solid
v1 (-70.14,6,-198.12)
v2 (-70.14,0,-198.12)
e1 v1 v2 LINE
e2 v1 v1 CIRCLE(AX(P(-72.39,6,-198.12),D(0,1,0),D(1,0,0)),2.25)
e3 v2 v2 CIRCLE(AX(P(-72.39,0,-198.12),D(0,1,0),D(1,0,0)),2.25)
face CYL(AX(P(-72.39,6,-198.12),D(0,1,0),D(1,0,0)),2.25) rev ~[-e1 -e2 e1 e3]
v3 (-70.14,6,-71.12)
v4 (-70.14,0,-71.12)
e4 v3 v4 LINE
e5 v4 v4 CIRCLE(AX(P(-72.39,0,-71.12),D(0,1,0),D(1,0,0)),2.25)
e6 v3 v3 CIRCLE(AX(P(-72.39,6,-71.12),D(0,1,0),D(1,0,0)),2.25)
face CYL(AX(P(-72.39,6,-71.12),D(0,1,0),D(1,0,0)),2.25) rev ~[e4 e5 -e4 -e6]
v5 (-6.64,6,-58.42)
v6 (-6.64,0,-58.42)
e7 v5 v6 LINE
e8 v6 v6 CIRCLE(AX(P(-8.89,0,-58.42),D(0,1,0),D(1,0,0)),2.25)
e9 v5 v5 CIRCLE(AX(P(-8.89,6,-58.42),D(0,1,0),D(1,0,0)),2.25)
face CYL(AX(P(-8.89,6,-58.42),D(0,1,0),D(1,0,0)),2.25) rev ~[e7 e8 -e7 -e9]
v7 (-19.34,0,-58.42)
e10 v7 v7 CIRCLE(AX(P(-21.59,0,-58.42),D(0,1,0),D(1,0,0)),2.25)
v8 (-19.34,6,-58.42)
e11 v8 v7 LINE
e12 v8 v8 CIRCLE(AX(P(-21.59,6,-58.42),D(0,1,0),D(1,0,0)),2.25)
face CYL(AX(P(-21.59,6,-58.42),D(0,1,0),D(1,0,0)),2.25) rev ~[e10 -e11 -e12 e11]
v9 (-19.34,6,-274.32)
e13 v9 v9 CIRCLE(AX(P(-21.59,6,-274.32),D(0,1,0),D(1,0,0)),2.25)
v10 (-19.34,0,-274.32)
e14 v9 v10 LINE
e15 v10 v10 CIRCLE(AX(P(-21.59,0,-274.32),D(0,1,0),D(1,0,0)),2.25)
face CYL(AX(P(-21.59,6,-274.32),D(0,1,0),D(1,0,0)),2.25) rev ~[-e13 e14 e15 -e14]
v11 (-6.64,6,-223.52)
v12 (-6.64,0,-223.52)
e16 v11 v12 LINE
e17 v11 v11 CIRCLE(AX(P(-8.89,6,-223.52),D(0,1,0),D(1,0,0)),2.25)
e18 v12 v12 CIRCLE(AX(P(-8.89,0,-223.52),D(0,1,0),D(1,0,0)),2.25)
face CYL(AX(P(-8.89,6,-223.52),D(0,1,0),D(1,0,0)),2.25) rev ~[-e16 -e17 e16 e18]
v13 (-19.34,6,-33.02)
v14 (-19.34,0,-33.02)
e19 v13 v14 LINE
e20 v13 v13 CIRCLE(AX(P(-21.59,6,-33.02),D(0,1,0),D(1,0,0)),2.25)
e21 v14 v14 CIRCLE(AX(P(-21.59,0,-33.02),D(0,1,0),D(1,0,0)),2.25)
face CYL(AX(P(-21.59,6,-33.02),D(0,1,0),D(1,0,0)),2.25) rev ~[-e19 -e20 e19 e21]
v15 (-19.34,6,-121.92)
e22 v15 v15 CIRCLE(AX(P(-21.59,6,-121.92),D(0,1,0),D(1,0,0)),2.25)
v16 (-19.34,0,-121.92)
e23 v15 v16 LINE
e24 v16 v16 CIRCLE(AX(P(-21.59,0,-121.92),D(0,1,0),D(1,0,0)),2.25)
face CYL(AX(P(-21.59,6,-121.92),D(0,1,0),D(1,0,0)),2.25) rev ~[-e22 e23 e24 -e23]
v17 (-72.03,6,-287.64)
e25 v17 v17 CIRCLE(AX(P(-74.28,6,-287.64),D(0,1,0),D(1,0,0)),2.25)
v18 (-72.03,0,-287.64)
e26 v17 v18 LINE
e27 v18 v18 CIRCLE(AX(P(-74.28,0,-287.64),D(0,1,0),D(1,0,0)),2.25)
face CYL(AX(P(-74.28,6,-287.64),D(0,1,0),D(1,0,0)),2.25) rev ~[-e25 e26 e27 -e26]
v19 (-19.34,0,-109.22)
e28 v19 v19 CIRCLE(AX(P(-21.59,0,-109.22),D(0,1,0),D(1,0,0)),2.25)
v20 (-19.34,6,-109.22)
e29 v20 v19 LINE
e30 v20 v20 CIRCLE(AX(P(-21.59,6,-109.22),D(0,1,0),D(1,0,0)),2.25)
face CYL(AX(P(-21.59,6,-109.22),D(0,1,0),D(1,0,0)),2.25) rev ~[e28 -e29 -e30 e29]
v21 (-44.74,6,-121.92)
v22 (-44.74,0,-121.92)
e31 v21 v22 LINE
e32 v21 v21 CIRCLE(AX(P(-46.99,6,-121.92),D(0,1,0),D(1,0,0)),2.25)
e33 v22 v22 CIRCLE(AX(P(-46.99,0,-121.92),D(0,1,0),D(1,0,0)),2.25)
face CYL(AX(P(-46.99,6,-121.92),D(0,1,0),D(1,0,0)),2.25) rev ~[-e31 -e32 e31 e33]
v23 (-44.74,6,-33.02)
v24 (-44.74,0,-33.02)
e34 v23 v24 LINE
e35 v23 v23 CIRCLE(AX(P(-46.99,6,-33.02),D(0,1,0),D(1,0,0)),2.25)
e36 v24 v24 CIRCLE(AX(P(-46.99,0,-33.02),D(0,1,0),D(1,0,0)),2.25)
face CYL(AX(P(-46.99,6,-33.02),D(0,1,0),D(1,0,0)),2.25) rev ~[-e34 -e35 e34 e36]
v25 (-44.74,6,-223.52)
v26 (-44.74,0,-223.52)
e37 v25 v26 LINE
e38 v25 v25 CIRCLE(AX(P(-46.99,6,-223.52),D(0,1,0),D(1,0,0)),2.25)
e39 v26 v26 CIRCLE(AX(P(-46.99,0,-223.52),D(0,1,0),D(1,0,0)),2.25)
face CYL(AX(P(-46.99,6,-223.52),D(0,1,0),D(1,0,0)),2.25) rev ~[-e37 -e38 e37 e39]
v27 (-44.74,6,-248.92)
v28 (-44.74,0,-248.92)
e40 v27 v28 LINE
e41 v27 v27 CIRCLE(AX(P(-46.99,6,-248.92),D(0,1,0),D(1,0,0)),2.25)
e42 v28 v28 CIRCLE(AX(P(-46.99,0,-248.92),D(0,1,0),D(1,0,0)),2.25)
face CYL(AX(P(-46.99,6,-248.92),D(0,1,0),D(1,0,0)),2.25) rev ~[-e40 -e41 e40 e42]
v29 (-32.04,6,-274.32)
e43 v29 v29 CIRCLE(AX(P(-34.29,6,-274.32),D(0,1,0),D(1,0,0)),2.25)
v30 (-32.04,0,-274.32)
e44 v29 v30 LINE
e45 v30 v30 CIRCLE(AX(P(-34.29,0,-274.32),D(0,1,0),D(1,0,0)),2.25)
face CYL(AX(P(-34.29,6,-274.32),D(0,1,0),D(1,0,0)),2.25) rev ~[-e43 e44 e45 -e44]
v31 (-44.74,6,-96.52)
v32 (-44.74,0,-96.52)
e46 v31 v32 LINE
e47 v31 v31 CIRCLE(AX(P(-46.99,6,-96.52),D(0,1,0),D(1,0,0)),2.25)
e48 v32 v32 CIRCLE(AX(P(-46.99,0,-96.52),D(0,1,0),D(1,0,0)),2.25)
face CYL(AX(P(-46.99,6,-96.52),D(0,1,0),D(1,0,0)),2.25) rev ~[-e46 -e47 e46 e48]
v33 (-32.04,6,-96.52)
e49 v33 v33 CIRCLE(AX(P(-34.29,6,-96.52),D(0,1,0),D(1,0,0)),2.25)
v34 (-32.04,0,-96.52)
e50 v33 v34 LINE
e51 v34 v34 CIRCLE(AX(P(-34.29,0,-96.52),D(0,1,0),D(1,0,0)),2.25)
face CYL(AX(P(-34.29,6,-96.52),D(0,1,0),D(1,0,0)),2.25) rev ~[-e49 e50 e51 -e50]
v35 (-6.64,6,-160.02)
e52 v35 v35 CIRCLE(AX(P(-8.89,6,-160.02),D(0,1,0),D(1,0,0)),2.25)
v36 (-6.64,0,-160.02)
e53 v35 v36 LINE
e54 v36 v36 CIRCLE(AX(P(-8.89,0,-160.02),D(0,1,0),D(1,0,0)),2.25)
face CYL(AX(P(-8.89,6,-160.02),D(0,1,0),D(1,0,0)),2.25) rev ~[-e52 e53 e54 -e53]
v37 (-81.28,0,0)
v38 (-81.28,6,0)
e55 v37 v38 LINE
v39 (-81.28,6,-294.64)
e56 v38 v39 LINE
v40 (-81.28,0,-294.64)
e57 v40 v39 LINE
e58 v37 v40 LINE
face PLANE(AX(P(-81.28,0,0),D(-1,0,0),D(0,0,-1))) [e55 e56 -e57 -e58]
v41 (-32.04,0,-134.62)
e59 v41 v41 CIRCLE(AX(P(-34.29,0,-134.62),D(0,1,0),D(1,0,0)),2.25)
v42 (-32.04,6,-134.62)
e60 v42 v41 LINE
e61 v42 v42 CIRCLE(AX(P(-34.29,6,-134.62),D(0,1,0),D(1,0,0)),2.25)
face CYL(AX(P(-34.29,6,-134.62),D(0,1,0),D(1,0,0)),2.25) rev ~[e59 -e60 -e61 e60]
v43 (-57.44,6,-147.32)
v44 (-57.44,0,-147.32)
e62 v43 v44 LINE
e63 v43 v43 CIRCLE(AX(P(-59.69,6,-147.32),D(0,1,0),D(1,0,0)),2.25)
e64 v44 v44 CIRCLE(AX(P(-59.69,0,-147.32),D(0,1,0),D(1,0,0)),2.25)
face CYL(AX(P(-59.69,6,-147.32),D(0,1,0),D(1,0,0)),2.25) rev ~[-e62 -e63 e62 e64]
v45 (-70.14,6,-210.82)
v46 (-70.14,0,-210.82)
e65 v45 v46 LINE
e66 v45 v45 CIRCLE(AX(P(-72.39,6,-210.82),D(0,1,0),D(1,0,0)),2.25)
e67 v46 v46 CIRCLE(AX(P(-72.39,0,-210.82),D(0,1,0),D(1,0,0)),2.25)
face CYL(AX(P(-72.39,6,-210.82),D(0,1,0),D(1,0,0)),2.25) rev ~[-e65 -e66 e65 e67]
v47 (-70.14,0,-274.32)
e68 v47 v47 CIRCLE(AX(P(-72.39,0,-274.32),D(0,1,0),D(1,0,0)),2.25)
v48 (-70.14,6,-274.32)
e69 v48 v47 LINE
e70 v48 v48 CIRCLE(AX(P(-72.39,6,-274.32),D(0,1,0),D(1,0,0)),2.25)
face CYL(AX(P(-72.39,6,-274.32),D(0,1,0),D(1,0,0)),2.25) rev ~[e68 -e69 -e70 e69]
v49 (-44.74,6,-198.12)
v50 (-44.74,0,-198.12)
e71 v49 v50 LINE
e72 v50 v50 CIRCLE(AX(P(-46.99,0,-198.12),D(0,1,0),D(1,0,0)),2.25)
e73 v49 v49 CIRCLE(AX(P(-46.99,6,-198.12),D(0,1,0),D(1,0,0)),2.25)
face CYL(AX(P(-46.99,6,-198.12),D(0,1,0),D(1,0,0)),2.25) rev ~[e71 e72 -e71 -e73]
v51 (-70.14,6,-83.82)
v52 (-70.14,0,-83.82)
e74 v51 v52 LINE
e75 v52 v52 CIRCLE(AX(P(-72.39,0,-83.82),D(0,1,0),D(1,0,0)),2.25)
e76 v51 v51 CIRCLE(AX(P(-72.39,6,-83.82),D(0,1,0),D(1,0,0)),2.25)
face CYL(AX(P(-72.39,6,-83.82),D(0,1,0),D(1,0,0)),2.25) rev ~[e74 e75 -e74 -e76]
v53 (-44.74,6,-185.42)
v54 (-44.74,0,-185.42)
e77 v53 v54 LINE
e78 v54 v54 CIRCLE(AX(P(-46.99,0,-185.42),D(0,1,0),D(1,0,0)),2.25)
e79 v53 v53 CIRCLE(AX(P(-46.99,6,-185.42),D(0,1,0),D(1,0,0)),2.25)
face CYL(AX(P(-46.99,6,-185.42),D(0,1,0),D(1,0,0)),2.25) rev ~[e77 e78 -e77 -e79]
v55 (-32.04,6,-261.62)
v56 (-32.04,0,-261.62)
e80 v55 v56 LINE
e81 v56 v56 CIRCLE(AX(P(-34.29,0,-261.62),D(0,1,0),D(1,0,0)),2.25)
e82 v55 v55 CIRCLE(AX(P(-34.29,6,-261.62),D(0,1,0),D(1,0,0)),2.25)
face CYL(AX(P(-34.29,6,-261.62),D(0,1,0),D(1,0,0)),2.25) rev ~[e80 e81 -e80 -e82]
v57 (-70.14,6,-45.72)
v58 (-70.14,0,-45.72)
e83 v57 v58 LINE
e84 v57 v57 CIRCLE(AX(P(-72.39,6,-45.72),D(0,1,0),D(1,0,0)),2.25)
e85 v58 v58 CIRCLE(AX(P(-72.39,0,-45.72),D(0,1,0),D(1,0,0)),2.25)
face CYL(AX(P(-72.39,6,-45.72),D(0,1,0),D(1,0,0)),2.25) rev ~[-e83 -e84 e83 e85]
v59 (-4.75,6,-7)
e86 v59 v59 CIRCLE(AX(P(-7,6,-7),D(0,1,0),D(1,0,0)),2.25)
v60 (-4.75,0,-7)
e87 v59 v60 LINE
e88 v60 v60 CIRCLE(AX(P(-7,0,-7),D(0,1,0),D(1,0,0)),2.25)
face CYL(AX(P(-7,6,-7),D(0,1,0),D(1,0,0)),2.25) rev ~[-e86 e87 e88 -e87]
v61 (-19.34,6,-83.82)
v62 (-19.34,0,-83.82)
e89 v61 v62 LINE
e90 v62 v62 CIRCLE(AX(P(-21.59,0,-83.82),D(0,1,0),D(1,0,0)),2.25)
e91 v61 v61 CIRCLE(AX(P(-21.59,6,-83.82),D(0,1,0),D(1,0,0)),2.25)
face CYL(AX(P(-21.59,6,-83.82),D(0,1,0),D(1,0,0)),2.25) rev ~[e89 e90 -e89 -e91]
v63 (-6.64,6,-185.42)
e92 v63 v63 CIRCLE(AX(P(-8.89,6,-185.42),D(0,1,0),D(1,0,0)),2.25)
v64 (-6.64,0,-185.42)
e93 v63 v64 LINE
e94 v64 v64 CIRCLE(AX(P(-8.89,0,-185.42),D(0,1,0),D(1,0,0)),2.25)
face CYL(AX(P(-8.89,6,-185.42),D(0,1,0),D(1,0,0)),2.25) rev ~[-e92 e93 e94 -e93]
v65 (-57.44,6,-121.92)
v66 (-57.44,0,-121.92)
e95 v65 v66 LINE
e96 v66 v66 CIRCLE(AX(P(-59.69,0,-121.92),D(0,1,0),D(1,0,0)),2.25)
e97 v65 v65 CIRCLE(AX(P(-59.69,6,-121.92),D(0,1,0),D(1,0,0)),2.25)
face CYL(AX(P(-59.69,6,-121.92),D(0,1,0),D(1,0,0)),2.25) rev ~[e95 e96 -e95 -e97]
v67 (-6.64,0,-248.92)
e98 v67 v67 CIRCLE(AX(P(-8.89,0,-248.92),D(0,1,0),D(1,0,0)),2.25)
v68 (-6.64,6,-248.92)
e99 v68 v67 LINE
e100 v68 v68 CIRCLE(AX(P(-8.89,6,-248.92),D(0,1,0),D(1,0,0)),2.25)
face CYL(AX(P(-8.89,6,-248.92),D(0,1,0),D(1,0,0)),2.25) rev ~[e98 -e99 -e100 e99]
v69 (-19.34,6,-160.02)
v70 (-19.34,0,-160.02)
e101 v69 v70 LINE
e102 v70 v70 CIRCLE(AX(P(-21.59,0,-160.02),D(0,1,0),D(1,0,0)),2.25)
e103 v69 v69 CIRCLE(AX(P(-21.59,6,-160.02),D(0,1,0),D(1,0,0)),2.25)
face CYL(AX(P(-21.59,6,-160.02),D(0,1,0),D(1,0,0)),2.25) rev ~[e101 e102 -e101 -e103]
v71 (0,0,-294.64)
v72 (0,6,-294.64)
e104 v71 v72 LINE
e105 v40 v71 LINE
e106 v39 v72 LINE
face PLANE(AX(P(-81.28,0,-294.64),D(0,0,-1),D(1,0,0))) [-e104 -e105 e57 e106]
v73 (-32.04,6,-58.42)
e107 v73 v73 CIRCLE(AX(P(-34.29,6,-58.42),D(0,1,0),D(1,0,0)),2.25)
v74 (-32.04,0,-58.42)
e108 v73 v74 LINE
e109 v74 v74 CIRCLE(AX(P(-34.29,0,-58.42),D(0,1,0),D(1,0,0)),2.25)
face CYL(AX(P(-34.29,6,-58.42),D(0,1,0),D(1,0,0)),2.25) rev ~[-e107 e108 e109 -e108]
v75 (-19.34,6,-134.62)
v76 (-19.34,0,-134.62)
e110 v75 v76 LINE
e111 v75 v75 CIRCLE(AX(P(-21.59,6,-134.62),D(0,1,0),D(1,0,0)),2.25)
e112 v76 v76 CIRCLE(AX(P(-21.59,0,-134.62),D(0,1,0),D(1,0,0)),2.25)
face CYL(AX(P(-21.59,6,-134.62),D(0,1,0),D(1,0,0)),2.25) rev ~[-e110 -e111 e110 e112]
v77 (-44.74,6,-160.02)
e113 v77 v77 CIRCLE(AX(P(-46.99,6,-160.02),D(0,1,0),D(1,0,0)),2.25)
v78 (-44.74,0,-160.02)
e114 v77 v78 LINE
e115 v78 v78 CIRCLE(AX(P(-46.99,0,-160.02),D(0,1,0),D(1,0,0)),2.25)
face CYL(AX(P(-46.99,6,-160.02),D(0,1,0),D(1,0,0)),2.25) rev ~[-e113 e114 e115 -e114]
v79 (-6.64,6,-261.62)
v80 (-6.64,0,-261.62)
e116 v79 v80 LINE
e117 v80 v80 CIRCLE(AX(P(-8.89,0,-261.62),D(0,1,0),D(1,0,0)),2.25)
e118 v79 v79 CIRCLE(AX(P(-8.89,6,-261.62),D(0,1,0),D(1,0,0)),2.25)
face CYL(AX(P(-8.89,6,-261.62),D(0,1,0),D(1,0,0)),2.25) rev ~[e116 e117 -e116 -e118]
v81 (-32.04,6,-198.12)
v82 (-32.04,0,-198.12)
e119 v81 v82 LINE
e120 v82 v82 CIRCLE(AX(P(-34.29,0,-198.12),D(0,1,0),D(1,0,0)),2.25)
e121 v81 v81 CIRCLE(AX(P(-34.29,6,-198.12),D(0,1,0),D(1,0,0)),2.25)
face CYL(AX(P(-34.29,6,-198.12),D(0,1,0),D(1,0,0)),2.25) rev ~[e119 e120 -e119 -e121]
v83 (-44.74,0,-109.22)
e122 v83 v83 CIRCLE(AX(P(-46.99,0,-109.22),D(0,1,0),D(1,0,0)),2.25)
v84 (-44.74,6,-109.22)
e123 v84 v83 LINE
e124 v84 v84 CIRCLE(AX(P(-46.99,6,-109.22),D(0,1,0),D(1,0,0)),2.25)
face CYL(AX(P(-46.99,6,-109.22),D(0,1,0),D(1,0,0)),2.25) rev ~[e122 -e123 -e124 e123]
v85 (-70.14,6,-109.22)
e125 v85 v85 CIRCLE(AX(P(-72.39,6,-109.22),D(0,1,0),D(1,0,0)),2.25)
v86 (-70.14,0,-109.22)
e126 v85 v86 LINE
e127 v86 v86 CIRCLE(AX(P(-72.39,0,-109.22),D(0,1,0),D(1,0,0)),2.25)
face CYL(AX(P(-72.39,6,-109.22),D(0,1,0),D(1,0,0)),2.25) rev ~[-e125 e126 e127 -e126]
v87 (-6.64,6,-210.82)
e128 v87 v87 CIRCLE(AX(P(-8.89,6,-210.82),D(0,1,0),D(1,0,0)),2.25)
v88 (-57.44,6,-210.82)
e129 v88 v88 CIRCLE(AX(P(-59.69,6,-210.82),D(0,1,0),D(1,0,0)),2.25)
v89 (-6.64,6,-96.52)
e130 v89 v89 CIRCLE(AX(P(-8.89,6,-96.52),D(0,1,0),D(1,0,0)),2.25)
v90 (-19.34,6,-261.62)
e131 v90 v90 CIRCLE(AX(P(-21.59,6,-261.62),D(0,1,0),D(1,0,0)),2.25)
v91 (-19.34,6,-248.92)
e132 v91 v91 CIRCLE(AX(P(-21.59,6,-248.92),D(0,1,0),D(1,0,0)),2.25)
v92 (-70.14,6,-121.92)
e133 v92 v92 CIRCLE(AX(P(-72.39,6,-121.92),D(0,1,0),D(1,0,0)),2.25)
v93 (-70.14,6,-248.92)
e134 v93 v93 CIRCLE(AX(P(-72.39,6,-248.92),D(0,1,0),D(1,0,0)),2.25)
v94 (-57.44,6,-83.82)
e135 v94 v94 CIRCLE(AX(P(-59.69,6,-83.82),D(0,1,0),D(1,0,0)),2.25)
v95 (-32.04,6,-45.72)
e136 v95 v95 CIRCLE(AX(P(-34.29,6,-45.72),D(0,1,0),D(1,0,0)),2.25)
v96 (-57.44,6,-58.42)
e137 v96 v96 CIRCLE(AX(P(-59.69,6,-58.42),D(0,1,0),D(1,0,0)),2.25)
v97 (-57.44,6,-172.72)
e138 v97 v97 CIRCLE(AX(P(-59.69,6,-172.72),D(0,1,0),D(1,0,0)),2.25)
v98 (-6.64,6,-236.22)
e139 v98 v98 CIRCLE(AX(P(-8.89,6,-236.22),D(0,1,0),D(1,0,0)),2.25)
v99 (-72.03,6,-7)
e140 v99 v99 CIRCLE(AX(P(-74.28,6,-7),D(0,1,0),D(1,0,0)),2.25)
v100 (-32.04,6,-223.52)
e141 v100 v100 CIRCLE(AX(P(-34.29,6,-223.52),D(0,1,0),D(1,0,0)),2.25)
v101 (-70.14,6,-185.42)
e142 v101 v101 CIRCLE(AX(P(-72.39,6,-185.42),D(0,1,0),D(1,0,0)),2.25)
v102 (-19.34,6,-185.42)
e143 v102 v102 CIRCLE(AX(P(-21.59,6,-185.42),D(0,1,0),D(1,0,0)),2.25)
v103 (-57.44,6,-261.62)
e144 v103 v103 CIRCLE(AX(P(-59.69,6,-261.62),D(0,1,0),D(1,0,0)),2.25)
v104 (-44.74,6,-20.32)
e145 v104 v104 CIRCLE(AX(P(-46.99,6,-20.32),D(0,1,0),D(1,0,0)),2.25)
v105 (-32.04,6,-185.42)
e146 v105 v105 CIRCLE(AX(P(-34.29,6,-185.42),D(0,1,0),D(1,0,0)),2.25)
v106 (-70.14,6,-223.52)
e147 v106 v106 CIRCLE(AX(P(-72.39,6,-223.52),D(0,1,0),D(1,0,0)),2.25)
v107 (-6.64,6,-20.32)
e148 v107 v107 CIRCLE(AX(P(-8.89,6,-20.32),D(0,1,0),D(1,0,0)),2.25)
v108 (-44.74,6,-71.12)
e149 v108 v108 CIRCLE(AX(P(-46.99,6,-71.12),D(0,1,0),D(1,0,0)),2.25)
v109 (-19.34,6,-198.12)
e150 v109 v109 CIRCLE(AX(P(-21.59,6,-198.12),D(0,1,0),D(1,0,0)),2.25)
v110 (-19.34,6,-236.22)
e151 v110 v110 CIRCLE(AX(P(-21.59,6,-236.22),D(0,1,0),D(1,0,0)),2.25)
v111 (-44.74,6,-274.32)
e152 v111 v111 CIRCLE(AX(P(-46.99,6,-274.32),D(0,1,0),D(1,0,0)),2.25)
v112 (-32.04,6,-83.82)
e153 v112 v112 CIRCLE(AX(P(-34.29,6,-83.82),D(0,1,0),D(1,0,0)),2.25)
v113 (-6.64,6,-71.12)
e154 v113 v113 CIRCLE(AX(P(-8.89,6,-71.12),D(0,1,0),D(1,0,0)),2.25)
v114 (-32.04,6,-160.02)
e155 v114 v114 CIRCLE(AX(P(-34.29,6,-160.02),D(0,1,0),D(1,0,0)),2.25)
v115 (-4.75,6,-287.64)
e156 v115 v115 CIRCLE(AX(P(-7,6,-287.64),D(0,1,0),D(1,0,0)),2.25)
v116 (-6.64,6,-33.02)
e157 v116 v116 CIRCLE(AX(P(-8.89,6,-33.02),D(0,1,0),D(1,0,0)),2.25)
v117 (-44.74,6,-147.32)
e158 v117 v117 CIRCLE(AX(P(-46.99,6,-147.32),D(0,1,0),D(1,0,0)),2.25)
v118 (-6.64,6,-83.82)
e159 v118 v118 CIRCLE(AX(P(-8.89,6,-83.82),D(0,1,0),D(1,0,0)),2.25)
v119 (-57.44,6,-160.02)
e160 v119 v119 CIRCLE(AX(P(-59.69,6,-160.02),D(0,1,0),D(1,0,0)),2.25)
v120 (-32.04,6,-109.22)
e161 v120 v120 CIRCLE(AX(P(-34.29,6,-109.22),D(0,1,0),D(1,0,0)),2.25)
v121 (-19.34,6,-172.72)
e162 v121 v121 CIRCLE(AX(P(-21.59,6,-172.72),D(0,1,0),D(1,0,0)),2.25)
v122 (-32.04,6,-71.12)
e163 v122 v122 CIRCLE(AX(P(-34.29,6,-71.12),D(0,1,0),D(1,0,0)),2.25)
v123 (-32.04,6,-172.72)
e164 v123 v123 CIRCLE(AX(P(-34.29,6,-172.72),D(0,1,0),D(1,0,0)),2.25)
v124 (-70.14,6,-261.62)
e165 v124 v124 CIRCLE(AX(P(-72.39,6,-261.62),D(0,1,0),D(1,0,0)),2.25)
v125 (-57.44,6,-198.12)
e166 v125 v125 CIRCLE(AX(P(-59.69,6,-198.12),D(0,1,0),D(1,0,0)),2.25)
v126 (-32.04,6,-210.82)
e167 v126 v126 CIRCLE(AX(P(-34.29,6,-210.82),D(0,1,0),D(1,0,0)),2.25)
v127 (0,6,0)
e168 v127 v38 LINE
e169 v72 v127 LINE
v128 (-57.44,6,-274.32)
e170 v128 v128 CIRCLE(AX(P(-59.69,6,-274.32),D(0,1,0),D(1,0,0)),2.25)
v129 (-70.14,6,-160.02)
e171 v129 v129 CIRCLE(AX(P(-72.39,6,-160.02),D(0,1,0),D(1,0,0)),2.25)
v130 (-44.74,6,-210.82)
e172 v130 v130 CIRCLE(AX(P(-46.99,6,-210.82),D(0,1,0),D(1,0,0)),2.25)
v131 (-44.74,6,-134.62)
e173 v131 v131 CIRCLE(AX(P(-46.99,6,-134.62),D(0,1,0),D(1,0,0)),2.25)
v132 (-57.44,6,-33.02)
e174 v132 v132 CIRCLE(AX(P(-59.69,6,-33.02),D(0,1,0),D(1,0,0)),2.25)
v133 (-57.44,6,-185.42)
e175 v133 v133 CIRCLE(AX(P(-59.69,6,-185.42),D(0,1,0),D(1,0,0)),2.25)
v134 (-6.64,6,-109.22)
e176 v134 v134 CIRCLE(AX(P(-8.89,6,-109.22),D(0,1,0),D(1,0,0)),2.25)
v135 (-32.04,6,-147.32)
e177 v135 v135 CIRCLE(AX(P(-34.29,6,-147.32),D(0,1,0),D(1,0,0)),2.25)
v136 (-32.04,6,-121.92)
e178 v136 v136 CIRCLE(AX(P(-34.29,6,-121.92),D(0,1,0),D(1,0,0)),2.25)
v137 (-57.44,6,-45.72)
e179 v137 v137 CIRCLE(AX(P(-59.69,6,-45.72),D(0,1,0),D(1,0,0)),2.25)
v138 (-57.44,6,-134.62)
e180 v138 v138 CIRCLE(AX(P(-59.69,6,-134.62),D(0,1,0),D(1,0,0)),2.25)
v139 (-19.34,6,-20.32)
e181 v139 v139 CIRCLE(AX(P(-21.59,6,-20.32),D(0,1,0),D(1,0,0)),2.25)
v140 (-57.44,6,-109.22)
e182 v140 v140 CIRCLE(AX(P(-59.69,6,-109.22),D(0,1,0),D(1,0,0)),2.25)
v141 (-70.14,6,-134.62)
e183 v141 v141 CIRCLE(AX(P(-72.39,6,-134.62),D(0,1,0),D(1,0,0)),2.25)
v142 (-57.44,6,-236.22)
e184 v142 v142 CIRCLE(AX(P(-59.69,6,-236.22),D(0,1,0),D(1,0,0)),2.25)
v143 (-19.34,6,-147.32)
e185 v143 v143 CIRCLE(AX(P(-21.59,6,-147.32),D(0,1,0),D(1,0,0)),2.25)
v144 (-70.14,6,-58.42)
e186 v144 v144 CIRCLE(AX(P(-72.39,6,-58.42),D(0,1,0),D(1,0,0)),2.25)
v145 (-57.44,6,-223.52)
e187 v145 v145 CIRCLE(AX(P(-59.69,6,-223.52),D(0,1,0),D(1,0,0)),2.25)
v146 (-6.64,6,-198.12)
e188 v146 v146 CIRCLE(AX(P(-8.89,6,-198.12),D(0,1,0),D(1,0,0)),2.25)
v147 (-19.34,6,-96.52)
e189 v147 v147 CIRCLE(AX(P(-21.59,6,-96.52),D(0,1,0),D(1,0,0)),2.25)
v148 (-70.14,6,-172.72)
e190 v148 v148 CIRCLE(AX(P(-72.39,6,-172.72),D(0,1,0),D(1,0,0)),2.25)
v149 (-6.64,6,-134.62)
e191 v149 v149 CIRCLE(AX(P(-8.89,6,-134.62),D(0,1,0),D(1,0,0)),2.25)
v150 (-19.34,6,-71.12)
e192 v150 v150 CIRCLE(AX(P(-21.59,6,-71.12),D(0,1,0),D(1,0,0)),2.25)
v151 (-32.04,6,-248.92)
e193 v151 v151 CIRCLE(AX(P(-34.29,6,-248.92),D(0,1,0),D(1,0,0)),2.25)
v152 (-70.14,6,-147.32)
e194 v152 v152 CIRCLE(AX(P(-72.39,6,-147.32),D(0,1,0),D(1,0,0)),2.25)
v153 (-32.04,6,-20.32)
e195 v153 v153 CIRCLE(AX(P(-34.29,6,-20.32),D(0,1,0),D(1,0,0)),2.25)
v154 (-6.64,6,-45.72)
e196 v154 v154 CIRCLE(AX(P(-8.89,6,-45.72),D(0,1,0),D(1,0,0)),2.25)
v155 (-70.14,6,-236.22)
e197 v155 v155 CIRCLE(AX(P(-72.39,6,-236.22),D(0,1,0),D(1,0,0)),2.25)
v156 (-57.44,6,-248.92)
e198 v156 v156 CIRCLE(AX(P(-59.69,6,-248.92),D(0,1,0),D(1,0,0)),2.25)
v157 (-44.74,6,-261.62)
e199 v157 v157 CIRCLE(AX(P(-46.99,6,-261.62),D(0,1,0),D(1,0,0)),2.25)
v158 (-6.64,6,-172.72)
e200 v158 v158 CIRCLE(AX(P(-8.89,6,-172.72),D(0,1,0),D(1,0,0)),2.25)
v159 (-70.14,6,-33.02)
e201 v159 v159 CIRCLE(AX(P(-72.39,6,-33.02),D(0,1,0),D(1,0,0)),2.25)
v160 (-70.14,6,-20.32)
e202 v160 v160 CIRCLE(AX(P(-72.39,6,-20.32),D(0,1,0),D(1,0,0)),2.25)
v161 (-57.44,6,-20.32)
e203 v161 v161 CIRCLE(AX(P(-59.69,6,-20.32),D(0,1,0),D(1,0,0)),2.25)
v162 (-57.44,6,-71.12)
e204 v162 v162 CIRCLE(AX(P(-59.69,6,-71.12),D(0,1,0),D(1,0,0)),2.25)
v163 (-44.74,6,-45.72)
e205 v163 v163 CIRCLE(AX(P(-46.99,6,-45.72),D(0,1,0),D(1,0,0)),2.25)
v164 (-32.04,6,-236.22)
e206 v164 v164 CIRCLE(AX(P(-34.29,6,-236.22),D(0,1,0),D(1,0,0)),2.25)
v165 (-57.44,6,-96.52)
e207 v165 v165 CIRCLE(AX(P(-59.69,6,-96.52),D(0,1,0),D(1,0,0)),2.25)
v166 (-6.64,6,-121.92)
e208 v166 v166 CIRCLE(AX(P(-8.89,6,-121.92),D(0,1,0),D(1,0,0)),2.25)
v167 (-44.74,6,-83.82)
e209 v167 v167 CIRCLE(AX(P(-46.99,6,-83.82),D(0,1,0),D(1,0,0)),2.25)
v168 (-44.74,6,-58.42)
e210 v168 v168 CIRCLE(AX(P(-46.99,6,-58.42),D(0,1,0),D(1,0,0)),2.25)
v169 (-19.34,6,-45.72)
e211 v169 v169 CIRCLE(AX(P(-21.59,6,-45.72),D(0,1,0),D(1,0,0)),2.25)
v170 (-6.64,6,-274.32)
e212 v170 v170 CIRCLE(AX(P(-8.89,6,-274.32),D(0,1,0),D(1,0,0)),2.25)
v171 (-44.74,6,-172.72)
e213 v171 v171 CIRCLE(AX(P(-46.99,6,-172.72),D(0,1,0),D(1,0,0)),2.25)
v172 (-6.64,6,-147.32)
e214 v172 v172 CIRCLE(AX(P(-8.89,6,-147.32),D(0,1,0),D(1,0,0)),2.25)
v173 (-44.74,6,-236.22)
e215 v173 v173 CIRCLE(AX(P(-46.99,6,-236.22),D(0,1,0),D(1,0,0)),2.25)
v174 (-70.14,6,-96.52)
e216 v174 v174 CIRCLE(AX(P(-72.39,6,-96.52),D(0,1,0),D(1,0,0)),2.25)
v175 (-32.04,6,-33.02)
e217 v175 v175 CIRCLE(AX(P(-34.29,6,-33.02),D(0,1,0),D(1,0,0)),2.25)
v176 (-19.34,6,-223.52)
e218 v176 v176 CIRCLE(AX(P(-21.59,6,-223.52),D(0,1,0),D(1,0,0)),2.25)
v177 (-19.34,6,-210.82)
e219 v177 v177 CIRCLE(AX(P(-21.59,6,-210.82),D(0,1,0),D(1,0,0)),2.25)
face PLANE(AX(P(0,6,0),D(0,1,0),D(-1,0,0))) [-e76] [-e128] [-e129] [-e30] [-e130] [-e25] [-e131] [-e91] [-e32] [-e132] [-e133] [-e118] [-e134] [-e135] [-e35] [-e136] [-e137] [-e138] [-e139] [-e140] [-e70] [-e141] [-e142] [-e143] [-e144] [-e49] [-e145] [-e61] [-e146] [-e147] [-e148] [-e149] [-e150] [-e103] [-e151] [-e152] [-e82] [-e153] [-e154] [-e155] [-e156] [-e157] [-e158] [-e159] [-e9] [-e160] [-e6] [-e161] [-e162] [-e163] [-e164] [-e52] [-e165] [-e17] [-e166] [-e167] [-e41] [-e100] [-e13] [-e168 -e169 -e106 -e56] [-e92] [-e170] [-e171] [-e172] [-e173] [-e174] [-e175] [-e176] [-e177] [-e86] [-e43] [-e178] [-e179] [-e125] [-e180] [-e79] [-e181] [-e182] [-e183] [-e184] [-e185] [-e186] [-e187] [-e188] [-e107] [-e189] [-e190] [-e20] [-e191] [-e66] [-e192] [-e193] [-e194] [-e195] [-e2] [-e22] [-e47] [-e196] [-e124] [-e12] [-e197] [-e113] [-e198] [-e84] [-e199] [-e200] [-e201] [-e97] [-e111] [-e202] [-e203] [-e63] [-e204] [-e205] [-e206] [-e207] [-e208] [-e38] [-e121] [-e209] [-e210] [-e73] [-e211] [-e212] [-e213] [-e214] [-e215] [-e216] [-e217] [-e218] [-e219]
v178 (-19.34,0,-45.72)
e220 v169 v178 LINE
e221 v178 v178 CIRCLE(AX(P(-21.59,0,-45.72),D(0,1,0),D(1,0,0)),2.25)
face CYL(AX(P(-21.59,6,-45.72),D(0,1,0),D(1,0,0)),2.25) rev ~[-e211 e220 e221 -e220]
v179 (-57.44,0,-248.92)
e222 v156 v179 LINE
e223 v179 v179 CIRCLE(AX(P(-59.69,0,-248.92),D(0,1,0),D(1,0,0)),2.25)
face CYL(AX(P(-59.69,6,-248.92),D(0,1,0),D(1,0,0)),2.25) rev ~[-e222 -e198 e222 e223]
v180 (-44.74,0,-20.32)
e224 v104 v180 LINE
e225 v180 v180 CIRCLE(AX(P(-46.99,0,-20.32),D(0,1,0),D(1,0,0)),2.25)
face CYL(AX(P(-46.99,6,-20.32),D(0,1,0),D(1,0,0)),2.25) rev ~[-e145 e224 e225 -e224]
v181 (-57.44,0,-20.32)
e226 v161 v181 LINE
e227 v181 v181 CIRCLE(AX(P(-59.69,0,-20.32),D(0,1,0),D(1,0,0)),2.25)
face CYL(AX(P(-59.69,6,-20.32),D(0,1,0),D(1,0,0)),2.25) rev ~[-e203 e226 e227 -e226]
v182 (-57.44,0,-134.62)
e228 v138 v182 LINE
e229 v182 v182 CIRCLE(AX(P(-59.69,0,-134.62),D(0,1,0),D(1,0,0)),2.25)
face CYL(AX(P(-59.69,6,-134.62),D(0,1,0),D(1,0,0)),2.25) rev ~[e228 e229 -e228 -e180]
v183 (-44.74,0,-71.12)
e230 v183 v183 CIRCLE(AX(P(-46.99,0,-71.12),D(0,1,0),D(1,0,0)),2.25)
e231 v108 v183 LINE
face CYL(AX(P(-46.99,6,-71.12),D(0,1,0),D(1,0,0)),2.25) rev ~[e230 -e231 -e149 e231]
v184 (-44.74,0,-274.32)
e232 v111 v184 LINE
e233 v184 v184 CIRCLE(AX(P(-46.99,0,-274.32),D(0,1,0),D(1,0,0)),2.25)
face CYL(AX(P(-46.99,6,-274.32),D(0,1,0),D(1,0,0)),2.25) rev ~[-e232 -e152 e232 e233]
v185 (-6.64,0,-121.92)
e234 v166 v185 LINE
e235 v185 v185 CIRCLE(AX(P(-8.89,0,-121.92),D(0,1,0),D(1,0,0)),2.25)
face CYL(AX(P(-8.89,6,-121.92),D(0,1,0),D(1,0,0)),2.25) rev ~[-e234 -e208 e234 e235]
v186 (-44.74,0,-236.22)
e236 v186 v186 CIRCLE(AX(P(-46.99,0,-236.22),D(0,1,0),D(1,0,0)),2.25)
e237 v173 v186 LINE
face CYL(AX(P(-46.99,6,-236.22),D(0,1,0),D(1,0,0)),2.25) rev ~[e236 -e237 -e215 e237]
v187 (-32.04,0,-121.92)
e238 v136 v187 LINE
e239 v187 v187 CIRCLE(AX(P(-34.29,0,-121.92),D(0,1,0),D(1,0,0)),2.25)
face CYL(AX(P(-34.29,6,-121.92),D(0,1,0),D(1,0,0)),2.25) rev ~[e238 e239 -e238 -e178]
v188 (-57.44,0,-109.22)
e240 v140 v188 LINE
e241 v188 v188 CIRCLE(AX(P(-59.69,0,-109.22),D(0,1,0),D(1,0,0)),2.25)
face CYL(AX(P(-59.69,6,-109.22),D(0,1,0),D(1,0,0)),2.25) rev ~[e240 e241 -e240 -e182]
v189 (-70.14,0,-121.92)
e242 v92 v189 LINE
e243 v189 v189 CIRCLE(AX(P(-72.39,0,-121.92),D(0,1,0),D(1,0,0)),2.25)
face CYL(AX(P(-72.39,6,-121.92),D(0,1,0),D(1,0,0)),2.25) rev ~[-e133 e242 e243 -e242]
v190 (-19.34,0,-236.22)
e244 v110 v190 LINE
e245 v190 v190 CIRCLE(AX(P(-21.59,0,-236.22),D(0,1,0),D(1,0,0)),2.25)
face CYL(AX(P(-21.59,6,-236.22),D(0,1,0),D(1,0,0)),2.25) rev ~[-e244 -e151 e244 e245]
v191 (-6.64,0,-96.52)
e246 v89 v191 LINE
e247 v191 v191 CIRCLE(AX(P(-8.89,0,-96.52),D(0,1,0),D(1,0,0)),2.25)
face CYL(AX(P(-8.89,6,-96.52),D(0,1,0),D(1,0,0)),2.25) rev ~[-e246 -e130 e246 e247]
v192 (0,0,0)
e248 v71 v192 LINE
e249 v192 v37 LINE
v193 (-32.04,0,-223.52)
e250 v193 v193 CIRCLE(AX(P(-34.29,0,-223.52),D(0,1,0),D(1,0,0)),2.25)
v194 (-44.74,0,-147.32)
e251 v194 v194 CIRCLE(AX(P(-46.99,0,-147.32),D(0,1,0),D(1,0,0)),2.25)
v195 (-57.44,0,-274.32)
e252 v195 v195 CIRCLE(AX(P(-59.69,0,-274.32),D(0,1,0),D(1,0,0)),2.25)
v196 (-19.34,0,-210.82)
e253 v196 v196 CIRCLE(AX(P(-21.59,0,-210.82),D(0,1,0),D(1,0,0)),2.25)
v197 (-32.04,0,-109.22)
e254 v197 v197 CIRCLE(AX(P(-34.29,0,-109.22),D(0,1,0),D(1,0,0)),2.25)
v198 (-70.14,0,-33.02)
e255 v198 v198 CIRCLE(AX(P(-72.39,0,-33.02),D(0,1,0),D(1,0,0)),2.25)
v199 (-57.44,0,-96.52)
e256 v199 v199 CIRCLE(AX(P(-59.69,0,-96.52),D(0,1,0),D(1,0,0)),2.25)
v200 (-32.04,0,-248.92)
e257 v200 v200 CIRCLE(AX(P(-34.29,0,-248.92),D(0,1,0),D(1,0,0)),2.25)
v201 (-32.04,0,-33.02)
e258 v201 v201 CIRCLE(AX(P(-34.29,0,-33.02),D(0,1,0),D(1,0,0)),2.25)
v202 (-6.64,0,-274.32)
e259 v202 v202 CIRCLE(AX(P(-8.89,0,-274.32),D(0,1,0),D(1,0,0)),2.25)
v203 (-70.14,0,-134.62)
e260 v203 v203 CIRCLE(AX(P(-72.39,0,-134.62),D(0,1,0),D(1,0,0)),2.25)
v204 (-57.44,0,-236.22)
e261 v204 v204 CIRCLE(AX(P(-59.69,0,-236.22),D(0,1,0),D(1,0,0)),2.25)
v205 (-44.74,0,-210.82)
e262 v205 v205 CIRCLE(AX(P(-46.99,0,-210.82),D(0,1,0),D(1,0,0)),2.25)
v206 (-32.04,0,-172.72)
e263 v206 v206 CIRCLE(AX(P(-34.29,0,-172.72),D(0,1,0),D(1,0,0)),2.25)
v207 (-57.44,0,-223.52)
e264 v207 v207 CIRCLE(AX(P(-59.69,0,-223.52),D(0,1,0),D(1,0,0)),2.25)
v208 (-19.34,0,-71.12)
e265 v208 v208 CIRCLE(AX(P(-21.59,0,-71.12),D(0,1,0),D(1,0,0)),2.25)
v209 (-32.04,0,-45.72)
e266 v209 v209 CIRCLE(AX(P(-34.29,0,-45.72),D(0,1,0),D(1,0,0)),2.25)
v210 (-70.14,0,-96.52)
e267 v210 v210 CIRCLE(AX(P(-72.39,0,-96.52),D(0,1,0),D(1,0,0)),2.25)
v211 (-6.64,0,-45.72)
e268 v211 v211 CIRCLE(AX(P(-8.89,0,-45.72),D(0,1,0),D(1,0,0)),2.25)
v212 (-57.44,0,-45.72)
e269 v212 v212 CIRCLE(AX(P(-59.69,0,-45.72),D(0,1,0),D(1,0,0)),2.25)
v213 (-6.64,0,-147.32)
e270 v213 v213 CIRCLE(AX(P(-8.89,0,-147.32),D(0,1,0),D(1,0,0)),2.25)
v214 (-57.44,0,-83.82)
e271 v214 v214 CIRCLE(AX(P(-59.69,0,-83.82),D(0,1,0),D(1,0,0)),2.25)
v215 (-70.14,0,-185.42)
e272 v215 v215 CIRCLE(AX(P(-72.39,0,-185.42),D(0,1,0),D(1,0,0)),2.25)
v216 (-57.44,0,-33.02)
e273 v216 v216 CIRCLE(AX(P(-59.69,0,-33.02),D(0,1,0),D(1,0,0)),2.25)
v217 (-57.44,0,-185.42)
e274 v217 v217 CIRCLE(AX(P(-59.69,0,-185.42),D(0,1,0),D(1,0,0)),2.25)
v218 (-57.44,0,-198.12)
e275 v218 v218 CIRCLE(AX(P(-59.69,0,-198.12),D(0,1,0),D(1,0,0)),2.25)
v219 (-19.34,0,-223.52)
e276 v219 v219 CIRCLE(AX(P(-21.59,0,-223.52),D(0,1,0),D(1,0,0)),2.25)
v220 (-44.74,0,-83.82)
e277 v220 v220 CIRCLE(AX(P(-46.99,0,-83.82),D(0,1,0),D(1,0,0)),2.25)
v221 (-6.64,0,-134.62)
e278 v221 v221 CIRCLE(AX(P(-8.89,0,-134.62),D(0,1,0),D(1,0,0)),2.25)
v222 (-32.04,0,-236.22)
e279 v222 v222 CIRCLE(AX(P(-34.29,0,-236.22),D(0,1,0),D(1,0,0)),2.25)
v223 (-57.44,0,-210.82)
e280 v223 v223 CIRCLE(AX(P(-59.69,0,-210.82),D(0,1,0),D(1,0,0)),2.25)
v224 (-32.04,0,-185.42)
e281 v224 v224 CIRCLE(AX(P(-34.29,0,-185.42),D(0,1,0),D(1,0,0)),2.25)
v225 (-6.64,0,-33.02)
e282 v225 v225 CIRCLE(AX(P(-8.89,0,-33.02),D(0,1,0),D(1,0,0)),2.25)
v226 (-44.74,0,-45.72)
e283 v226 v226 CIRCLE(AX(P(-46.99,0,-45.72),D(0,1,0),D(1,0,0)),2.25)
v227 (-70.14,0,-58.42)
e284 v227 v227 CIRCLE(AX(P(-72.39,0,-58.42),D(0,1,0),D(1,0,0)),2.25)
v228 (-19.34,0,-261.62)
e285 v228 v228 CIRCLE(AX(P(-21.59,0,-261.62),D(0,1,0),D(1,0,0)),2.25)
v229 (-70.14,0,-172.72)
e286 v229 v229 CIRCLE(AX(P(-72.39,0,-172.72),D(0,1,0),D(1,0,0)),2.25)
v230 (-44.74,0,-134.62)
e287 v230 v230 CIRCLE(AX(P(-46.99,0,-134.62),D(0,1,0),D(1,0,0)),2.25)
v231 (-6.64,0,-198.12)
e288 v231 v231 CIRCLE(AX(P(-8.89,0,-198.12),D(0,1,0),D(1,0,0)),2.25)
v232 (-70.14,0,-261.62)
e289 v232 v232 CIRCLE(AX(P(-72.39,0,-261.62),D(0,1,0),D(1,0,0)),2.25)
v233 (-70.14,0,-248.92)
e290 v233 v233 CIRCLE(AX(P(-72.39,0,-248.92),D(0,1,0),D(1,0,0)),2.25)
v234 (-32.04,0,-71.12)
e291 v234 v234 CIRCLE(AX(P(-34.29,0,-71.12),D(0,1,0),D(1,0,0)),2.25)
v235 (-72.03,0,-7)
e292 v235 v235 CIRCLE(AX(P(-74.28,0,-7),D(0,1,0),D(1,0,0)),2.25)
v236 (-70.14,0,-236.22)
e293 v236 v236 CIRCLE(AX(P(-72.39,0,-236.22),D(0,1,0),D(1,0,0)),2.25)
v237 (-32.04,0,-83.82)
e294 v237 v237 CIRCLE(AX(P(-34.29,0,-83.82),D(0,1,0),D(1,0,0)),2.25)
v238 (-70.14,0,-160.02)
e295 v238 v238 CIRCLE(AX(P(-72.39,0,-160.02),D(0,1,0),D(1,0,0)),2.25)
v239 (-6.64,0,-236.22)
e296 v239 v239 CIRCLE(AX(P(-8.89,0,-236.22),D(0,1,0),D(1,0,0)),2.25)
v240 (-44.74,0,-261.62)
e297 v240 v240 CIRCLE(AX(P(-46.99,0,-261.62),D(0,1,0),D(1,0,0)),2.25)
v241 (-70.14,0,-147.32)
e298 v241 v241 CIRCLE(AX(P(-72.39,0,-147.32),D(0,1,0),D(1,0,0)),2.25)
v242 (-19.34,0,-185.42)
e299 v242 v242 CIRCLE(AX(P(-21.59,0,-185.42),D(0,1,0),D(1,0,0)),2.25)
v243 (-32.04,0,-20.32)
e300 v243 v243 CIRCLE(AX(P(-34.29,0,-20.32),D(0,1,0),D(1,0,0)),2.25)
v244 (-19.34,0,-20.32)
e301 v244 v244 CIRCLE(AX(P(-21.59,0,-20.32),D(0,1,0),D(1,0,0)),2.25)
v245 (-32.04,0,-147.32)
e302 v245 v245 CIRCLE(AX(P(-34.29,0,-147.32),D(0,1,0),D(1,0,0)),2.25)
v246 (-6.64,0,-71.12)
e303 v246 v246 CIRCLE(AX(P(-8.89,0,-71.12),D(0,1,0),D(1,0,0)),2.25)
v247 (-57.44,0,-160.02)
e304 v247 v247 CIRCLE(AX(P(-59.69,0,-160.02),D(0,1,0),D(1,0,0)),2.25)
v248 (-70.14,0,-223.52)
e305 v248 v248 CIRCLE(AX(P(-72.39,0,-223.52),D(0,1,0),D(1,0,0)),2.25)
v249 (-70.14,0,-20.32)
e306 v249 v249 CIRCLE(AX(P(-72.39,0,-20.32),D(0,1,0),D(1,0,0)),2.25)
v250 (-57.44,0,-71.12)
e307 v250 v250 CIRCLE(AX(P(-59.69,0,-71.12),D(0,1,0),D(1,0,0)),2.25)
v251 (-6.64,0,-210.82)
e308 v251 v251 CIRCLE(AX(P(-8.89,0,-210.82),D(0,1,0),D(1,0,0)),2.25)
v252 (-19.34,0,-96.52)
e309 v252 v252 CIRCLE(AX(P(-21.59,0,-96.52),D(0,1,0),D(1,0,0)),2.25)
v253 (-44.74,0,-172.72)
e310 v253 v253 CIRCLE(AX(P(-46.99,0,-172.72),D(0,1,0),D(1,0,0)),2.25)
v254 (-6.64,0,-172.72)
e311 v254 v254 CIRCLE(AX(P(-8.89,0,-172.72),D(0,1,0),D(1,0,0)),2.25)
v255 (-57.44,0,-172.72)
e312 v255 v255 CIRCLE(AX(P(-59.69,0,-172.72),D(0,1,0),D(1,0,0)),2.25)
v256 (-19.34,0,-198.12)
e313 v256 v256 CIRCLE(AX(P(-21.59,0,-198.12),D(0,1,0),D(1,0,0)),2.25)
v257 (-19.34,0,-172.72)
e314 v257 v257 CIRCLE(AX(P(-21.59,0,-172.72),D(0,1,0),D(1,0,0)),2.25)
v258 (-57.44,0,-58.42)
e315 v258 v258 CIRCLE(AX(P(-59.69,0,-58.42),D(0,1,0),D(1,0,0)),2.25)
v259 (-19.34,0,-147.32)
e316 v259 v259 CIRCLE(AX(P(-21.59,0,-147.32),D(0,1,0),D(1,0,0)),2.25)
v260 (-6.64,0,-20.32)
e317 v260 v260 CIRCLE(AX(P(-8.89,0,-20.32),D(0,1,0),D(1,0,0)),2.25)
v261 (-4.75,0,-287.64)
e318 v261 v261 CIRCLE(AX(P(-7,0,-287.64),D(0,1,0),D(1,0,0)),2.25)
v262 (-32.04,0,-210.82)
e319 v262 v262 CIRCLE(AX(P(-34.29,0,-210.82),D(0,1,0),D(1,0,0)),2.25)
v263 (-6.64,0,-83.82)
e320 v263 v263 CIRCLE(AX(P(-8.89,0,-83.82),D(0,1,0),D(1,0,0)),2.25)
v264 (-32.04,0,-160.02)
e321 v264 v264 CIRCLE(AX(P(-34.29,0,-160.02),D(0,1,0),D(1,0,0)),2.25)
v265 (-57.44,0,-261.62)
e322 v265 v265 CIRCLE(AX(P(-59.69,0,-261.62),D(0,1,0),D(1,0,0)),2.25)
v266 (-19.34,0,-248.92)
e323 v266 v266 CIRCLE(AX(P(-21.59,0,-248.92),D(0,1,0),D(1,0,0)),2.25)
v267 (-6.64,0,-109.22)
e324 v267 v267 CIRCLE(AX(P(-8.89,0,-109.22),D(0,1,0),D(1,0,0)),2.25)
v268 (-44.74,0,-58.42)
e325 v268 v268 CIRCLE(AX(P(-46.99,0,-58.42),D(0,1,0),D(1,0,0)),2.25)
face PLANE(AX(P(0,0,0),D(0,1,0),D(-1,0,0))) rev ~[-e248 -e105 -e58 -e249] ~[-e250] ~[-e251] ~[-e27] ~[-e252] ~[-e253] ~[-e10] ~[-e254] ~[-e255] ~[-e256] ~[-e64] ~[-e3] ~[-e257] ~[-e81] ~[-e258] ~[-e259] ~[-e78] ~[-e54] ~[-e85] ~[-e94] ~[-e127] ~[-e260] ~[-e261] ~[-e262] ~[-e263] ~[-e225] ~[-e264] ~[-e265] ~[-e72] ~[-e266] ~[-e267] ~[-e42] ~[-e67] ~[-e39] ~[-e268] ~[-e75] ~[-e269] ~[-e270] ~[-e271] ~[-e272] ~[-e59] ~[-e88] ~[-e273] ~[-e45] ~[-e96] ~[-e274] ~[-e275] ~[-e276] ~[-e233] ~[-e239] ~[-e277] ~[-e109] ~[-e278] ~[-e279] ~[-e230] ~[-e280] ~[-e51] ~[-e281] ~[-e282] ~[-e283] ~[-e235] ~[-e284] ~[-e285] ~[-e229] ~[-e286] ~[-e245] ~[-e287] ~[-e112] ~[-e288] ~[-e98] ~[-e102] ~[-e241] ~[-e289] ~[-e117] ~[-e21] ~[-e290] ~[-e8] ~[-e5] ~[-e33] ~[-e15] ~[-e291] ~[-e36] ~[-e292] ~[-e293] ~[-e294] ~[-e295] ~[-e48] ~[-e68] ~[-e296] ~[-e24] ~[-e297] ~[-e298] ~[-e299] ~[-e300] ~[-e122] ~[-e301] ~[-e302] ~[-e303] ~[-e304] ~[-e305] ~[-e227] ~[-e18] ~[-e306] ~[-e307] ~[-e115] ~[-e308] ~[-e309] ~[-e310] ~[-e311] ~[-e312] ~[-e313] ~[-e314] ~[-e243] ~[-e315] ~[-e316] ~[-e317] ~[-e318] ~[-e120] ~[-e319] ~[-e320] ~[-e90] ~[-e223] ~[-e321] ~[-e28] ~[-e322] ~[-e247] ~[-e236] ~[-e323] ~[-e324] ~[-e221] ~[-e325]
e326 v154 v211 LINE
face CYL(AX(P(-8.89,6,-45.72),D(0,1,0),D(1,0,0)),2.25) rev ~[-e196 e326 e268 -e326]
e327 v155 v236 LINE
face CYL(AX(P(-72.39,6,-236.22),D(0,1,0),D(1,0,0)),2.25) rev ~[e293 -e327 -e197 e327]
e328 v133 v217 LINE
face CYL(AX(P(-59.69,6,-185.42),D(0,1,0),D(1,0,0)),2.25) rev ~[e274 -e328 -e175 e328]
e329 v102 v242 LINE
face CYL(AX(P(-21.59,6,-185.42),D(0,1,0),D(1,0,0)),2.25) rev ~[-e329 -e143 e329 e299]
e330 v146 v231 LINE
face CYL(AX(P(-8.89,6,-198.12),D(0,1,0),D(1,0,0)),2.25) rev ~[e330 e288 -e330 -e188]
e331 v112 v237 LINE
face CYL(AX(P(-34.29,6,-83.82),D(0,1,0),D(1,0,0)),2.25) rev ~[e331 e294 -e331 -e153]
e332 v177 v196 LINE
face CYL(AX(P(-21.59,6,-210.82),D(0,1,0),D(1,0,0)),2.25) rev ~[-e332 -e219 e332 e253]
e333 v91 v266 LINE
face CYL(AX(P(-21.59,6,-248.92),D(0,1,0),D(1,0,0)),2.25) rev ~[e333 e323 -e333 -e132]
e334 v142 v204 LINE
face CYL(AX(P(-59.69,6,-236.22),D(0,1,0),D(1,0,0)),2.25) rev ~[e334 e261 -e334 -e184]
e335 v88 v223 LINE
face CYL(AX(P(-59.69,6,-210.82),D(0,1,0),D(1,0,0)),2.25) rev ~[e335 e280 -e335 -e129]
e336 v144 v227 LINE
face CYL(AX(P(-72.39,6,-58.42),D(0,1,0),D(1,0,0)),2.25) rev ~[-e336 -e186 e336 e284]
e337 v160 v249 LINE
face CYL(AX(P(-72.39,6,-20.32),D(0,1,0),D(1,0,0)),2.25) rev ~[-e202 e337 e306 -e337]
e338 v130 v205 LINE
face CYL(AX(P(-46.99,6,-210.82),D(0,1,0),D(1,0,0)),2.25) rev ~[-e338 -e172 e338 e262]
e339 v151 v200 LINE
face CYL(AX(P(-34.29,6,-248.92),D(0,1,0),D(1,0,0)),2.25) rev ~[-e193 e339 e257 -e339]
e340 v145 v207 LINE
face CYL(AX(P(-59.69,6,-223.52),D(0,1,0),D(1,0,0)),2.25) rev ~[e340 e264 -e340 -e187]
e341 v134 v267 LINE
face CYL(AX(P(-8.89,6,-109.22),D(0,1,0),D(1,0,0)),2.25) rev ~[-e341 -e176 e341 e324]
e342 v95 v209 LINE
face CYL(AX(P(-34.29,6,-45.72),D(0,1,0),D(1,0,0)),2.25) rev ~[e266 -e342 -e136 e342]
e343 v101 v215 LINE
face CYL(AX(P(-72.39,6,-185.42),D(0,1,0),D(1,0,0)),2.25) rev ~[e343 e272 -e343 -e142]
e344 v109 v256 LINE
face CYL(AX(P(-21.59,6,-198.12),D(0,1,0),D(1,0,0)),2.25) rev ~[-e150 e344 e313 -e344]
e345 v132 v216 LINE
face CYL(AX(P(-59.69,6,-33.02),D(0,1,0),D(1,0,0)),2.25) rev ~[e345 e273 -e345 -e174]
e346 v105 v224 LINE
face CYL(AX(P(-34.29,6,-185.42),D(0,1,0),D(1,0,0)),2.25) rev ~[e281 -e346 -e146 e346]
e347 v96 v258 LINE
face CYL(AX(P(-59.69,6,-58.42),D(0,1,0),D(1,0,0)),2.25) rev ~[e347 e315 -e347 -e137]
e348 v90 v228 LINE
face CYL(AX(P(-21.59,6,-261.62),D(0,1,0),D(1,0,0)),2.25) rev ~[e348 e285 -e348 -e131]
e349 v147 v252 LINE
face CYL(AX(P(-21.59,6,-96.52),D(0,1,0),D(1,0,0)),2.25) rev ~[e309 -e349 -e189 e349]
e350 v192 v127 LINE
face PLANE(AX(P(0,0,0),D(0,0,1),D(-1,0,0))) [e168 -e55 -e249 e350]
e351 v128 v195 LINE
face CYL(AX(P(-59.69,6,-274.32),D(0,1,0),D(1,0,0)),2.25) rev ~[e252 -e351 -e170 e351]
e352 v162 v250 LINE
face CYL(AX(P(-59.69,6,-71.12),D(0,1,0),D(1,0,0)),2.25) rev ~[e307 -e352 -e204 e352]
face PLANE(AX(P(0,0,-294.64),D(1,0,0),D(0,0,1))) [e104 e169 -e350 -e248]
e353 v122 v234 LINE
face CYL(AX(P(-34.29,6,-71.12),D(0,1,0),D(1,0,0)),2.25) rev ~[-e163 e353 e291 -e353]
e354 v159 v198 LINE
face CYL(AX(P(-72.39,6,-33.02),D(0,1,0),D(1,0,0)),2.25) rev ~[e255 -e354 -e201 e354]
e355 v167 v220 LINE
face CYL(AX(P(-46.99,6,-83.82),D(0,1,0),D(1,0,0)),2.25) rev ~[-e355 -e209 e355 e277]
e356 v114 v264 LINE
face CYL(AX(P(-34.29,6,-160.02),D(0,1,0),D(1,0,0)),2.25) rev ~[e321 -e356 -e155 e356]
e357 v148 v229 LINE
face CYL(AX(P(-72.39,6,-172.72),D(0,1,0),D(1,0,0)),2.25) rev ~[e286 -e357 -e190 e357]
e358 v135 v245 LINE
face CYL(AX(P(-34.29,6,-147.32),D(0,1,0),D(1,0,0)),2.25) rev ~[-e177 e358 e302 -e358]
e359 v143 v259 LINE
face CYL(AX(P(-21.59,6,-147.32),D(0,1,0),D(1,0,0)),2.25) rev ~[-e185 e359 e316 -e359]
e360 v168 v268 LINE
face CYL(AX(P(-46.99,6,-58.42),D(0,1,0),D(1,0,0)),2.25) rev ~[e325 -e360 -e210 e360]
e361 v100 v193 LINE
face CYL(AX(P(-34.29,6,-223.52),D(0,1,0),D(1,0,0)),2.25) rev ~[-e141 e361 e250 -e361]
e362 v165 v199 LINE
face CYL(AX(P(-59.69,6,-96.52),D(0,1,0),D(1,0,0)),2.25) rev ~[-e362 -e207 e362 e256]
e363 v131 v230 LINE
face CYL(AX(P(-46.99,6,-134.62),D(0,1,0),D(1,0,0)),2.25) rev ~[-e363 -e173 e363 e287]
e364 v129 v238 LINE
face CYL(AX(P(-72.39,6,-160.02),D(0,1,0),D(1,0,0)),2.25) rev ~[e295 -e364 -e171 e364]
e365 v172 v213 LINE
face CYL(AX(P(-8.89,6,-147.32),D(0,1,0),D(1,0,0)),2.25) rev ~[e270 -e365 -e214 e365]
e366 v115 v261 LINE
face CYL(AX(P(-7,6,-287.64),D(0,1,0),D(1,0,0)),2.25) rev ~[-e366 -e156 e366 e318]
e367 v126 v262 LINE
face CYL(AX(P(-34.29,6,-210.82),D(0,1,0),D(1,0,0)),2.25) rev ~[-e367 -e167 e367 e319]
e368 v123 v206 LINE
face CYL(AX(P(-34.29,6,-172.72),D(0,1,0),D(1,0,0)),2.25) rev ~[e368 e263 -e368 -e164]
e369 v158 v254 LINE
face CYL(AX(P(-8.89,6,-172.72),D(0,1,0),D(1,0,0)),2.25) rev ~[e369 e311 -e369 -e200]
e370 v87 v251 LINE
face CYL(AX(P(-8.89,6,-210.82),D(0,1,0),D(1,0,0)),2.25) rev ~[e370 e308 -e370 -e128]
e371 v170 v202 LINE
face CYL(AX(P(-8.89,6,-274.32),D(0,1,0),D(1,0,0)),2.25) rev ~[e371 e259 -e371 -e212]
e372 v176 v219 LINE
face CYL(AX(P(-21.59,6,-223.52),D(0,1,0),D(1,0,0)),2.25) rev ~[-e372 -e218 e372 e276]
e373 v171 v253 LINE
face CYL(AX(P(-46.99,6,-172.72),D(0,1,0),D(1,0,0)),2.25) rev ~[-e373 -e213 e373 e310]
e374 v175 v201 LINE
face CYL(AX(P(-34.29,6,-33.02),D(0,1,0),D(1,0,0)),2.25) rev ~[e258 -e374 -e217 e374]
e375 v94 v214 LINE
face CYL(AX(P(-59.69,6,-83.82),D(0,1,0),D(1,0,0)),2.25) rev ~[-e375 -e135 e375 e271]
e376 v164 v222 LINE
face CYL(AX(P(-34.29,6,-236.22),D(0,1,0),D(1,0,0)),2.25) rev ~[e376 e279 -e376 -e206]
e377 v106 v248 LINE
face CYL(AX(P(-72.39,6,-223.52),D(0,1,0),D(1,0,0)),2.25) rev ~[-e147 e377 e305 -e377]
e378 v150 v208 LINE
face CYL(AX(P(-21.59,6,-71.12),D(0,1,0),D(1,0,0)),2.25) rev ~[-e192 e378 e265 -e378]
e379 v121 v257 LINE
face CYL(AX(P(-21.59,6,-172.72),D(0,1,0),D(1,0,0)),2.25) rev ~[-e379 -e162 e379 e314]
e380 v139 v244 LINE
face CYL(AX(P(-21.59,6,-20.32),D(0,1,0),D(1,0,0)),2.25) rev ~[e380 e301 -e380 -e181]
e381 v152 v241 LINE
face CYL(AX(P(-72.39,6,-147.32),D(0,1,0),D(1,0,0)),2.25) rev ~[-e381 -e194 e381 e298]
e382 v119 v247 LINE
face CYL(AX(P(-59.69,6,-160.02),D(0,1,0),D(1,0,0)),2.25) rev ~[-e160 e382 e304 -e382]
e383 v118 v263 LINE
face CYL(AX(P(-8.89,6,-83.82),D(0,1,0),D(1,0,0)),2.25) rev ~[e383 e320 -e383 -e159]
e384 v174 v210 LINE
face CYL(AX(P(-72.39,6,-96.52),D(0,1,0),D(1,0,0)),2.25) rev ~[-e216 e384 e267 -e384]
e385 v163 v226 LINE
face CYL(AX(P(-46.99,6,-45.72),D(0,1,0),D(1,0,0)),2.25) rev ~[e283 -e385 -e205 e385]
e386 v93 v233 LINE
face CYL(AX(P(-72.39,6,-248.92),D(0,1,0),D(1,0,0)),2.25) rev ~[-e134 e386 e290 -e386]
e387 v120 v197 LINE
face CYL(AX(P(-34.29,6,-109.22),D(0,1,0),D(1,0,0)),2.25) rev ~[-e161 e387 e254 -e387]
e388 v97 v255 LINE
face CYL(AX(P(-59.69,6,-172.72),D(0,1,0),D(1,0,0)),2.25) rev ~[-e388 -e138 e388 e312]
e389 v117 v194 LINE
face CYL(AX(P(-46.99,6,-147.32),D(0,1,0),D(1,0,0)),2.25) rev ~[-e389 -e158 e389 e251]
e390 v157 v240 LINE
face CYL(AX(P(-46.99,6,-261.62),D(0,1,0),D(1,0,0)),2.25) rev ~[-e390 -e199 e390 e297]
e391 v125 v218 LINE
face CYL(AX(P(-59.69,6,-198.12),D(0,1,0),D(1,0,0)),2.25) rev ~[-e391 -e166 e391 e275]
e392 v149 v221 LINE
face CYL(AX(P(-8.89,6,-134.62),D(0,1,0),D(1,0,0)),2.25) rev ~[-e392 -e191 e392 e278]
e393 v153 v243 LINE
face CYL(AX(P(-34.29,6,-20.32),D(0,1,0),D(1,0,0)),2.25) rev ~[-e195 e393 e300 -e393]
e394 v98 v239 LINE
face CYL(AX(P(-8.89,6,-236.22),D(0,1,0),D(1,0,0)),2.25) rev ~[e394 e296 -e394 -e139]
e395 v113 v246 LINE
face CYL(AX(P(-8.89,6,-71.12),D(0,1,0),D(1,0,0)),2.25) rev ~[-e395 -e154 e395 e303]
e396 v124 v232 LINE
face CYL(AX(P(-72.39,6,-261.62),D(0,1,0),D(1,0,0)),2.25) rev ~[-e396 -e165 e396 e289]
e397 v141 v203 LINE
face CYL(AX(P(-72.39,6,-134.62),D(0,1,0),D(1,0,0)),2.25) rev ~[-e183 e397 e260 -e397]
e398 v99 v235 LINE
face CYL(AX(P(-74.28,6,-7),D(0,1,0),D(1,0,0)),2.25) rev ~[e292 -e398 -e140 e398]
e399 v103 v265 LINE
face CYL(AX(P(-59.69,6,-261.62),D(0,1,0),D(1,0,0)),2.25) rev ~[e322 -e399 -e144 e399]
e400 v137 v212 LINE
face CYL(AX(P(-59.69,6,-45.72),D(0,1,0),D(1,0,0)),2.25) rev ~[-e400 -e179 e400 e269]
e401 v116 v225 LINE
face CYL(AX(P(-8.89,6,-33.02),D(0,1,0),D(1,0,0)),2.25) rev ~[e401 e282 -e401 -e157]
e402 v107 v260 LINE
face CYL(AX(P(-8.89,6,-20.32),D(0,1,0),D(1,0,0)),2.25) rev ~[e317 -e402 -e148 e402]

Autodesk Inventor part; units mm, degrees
ref_plane "YZ Plane" through (0, 0, 0) normal (1, 0, 0) x (0, 1, 0)
ref_plane "XZ Plane" through (0, 0, 0) normal (0, 1, 0) x (-1, 0, 0)
ref_plane "XY Plane" through (0, 0, 0) normal (0, 0, 1) x (1, 0, 0)
sketch "Sketch1" plane through (0, 0, 0) normal (0, 1, 0) x (-1, 0, 0)
  line L0 (0, 0) -> (81.28, 0)
  line L1 (81.28, 0) -> (81.28, -294.64)
  line L2 (81.28, -294.64) -> (0, -294.64)
  line L3 (0, -294.64) -> (0, 0)
  dimension "d0" = 81.28
  dimension "d1" = 294.64
extrude "Extrusion1" add sketch "Sketch1" along normal blind 6
sketch "Sketch2" plane through (0, 6, 0) normal (0, 1, 0) x (1, 0, 0)
  circle A0 centre (-7, 7) radius 2.25
  line L0 (-81.28, 0) -> (0, 0) projected
  line L1 (0, 0) -> (0, 294.64) projected
  circle A1 centre (-74.28, 7) radius 2.25
  line L2 (-81.28, 294.64) -> (-81.28, 0) projected
  circle A2 centre (-74.28, 287.64) radius 2.25
  line L3 (0, 294.64) -> (-81.28, 294.64) projected
  circle A3 centre (-7, 287.64) radius 2.25
  dimension "d4" = 4.5
  dimension "d6" = 7
  dimension "d7" = 7
  dimension "d8" = 4.5
  dimension "d9" = 7
  dimension "d10" = 7
  dimension "d11" = 4.5
  dimension "d12" = 7
  dimension "d13" = 7
  dimension "d14" = 4.5
  dimension "d15" = 7
  dimension "d16" = 7
extrude "Extrusion2" cut sketch "Sketch2" against normal through all contours A0 | A1 | A2 | A3
sketch "Sketch3" plane through (0, 6, 0) normal (0, 1, 0) x (1, 0, 0)
  circle A0 centre (-8.89, 20.32) radius 2.25
  line L0 (0, 0) -> (0, 294.64) projected
  circle A1 centre (-7, 7) radius 2.25 projected
  line L1 (-81.28, 0) -> (0, 0) projected
  line L2 (0, 0) -> (-4.445, 0)
  dimension "d19" = 4.5
  dimension "d20" = 8.89
  dimension "d64" = 20.32
extrude "Extrusion3" cut sketch "Sketch3" against normal through all contours A0
pattern_linear "Rectangular Pattern1" count 6 spacing 12.7 along (-1, 0, 0) count 21 spacing 12.7 along (0, 0, -1) of "Extrusion3"
properties part number "HopperV1"
